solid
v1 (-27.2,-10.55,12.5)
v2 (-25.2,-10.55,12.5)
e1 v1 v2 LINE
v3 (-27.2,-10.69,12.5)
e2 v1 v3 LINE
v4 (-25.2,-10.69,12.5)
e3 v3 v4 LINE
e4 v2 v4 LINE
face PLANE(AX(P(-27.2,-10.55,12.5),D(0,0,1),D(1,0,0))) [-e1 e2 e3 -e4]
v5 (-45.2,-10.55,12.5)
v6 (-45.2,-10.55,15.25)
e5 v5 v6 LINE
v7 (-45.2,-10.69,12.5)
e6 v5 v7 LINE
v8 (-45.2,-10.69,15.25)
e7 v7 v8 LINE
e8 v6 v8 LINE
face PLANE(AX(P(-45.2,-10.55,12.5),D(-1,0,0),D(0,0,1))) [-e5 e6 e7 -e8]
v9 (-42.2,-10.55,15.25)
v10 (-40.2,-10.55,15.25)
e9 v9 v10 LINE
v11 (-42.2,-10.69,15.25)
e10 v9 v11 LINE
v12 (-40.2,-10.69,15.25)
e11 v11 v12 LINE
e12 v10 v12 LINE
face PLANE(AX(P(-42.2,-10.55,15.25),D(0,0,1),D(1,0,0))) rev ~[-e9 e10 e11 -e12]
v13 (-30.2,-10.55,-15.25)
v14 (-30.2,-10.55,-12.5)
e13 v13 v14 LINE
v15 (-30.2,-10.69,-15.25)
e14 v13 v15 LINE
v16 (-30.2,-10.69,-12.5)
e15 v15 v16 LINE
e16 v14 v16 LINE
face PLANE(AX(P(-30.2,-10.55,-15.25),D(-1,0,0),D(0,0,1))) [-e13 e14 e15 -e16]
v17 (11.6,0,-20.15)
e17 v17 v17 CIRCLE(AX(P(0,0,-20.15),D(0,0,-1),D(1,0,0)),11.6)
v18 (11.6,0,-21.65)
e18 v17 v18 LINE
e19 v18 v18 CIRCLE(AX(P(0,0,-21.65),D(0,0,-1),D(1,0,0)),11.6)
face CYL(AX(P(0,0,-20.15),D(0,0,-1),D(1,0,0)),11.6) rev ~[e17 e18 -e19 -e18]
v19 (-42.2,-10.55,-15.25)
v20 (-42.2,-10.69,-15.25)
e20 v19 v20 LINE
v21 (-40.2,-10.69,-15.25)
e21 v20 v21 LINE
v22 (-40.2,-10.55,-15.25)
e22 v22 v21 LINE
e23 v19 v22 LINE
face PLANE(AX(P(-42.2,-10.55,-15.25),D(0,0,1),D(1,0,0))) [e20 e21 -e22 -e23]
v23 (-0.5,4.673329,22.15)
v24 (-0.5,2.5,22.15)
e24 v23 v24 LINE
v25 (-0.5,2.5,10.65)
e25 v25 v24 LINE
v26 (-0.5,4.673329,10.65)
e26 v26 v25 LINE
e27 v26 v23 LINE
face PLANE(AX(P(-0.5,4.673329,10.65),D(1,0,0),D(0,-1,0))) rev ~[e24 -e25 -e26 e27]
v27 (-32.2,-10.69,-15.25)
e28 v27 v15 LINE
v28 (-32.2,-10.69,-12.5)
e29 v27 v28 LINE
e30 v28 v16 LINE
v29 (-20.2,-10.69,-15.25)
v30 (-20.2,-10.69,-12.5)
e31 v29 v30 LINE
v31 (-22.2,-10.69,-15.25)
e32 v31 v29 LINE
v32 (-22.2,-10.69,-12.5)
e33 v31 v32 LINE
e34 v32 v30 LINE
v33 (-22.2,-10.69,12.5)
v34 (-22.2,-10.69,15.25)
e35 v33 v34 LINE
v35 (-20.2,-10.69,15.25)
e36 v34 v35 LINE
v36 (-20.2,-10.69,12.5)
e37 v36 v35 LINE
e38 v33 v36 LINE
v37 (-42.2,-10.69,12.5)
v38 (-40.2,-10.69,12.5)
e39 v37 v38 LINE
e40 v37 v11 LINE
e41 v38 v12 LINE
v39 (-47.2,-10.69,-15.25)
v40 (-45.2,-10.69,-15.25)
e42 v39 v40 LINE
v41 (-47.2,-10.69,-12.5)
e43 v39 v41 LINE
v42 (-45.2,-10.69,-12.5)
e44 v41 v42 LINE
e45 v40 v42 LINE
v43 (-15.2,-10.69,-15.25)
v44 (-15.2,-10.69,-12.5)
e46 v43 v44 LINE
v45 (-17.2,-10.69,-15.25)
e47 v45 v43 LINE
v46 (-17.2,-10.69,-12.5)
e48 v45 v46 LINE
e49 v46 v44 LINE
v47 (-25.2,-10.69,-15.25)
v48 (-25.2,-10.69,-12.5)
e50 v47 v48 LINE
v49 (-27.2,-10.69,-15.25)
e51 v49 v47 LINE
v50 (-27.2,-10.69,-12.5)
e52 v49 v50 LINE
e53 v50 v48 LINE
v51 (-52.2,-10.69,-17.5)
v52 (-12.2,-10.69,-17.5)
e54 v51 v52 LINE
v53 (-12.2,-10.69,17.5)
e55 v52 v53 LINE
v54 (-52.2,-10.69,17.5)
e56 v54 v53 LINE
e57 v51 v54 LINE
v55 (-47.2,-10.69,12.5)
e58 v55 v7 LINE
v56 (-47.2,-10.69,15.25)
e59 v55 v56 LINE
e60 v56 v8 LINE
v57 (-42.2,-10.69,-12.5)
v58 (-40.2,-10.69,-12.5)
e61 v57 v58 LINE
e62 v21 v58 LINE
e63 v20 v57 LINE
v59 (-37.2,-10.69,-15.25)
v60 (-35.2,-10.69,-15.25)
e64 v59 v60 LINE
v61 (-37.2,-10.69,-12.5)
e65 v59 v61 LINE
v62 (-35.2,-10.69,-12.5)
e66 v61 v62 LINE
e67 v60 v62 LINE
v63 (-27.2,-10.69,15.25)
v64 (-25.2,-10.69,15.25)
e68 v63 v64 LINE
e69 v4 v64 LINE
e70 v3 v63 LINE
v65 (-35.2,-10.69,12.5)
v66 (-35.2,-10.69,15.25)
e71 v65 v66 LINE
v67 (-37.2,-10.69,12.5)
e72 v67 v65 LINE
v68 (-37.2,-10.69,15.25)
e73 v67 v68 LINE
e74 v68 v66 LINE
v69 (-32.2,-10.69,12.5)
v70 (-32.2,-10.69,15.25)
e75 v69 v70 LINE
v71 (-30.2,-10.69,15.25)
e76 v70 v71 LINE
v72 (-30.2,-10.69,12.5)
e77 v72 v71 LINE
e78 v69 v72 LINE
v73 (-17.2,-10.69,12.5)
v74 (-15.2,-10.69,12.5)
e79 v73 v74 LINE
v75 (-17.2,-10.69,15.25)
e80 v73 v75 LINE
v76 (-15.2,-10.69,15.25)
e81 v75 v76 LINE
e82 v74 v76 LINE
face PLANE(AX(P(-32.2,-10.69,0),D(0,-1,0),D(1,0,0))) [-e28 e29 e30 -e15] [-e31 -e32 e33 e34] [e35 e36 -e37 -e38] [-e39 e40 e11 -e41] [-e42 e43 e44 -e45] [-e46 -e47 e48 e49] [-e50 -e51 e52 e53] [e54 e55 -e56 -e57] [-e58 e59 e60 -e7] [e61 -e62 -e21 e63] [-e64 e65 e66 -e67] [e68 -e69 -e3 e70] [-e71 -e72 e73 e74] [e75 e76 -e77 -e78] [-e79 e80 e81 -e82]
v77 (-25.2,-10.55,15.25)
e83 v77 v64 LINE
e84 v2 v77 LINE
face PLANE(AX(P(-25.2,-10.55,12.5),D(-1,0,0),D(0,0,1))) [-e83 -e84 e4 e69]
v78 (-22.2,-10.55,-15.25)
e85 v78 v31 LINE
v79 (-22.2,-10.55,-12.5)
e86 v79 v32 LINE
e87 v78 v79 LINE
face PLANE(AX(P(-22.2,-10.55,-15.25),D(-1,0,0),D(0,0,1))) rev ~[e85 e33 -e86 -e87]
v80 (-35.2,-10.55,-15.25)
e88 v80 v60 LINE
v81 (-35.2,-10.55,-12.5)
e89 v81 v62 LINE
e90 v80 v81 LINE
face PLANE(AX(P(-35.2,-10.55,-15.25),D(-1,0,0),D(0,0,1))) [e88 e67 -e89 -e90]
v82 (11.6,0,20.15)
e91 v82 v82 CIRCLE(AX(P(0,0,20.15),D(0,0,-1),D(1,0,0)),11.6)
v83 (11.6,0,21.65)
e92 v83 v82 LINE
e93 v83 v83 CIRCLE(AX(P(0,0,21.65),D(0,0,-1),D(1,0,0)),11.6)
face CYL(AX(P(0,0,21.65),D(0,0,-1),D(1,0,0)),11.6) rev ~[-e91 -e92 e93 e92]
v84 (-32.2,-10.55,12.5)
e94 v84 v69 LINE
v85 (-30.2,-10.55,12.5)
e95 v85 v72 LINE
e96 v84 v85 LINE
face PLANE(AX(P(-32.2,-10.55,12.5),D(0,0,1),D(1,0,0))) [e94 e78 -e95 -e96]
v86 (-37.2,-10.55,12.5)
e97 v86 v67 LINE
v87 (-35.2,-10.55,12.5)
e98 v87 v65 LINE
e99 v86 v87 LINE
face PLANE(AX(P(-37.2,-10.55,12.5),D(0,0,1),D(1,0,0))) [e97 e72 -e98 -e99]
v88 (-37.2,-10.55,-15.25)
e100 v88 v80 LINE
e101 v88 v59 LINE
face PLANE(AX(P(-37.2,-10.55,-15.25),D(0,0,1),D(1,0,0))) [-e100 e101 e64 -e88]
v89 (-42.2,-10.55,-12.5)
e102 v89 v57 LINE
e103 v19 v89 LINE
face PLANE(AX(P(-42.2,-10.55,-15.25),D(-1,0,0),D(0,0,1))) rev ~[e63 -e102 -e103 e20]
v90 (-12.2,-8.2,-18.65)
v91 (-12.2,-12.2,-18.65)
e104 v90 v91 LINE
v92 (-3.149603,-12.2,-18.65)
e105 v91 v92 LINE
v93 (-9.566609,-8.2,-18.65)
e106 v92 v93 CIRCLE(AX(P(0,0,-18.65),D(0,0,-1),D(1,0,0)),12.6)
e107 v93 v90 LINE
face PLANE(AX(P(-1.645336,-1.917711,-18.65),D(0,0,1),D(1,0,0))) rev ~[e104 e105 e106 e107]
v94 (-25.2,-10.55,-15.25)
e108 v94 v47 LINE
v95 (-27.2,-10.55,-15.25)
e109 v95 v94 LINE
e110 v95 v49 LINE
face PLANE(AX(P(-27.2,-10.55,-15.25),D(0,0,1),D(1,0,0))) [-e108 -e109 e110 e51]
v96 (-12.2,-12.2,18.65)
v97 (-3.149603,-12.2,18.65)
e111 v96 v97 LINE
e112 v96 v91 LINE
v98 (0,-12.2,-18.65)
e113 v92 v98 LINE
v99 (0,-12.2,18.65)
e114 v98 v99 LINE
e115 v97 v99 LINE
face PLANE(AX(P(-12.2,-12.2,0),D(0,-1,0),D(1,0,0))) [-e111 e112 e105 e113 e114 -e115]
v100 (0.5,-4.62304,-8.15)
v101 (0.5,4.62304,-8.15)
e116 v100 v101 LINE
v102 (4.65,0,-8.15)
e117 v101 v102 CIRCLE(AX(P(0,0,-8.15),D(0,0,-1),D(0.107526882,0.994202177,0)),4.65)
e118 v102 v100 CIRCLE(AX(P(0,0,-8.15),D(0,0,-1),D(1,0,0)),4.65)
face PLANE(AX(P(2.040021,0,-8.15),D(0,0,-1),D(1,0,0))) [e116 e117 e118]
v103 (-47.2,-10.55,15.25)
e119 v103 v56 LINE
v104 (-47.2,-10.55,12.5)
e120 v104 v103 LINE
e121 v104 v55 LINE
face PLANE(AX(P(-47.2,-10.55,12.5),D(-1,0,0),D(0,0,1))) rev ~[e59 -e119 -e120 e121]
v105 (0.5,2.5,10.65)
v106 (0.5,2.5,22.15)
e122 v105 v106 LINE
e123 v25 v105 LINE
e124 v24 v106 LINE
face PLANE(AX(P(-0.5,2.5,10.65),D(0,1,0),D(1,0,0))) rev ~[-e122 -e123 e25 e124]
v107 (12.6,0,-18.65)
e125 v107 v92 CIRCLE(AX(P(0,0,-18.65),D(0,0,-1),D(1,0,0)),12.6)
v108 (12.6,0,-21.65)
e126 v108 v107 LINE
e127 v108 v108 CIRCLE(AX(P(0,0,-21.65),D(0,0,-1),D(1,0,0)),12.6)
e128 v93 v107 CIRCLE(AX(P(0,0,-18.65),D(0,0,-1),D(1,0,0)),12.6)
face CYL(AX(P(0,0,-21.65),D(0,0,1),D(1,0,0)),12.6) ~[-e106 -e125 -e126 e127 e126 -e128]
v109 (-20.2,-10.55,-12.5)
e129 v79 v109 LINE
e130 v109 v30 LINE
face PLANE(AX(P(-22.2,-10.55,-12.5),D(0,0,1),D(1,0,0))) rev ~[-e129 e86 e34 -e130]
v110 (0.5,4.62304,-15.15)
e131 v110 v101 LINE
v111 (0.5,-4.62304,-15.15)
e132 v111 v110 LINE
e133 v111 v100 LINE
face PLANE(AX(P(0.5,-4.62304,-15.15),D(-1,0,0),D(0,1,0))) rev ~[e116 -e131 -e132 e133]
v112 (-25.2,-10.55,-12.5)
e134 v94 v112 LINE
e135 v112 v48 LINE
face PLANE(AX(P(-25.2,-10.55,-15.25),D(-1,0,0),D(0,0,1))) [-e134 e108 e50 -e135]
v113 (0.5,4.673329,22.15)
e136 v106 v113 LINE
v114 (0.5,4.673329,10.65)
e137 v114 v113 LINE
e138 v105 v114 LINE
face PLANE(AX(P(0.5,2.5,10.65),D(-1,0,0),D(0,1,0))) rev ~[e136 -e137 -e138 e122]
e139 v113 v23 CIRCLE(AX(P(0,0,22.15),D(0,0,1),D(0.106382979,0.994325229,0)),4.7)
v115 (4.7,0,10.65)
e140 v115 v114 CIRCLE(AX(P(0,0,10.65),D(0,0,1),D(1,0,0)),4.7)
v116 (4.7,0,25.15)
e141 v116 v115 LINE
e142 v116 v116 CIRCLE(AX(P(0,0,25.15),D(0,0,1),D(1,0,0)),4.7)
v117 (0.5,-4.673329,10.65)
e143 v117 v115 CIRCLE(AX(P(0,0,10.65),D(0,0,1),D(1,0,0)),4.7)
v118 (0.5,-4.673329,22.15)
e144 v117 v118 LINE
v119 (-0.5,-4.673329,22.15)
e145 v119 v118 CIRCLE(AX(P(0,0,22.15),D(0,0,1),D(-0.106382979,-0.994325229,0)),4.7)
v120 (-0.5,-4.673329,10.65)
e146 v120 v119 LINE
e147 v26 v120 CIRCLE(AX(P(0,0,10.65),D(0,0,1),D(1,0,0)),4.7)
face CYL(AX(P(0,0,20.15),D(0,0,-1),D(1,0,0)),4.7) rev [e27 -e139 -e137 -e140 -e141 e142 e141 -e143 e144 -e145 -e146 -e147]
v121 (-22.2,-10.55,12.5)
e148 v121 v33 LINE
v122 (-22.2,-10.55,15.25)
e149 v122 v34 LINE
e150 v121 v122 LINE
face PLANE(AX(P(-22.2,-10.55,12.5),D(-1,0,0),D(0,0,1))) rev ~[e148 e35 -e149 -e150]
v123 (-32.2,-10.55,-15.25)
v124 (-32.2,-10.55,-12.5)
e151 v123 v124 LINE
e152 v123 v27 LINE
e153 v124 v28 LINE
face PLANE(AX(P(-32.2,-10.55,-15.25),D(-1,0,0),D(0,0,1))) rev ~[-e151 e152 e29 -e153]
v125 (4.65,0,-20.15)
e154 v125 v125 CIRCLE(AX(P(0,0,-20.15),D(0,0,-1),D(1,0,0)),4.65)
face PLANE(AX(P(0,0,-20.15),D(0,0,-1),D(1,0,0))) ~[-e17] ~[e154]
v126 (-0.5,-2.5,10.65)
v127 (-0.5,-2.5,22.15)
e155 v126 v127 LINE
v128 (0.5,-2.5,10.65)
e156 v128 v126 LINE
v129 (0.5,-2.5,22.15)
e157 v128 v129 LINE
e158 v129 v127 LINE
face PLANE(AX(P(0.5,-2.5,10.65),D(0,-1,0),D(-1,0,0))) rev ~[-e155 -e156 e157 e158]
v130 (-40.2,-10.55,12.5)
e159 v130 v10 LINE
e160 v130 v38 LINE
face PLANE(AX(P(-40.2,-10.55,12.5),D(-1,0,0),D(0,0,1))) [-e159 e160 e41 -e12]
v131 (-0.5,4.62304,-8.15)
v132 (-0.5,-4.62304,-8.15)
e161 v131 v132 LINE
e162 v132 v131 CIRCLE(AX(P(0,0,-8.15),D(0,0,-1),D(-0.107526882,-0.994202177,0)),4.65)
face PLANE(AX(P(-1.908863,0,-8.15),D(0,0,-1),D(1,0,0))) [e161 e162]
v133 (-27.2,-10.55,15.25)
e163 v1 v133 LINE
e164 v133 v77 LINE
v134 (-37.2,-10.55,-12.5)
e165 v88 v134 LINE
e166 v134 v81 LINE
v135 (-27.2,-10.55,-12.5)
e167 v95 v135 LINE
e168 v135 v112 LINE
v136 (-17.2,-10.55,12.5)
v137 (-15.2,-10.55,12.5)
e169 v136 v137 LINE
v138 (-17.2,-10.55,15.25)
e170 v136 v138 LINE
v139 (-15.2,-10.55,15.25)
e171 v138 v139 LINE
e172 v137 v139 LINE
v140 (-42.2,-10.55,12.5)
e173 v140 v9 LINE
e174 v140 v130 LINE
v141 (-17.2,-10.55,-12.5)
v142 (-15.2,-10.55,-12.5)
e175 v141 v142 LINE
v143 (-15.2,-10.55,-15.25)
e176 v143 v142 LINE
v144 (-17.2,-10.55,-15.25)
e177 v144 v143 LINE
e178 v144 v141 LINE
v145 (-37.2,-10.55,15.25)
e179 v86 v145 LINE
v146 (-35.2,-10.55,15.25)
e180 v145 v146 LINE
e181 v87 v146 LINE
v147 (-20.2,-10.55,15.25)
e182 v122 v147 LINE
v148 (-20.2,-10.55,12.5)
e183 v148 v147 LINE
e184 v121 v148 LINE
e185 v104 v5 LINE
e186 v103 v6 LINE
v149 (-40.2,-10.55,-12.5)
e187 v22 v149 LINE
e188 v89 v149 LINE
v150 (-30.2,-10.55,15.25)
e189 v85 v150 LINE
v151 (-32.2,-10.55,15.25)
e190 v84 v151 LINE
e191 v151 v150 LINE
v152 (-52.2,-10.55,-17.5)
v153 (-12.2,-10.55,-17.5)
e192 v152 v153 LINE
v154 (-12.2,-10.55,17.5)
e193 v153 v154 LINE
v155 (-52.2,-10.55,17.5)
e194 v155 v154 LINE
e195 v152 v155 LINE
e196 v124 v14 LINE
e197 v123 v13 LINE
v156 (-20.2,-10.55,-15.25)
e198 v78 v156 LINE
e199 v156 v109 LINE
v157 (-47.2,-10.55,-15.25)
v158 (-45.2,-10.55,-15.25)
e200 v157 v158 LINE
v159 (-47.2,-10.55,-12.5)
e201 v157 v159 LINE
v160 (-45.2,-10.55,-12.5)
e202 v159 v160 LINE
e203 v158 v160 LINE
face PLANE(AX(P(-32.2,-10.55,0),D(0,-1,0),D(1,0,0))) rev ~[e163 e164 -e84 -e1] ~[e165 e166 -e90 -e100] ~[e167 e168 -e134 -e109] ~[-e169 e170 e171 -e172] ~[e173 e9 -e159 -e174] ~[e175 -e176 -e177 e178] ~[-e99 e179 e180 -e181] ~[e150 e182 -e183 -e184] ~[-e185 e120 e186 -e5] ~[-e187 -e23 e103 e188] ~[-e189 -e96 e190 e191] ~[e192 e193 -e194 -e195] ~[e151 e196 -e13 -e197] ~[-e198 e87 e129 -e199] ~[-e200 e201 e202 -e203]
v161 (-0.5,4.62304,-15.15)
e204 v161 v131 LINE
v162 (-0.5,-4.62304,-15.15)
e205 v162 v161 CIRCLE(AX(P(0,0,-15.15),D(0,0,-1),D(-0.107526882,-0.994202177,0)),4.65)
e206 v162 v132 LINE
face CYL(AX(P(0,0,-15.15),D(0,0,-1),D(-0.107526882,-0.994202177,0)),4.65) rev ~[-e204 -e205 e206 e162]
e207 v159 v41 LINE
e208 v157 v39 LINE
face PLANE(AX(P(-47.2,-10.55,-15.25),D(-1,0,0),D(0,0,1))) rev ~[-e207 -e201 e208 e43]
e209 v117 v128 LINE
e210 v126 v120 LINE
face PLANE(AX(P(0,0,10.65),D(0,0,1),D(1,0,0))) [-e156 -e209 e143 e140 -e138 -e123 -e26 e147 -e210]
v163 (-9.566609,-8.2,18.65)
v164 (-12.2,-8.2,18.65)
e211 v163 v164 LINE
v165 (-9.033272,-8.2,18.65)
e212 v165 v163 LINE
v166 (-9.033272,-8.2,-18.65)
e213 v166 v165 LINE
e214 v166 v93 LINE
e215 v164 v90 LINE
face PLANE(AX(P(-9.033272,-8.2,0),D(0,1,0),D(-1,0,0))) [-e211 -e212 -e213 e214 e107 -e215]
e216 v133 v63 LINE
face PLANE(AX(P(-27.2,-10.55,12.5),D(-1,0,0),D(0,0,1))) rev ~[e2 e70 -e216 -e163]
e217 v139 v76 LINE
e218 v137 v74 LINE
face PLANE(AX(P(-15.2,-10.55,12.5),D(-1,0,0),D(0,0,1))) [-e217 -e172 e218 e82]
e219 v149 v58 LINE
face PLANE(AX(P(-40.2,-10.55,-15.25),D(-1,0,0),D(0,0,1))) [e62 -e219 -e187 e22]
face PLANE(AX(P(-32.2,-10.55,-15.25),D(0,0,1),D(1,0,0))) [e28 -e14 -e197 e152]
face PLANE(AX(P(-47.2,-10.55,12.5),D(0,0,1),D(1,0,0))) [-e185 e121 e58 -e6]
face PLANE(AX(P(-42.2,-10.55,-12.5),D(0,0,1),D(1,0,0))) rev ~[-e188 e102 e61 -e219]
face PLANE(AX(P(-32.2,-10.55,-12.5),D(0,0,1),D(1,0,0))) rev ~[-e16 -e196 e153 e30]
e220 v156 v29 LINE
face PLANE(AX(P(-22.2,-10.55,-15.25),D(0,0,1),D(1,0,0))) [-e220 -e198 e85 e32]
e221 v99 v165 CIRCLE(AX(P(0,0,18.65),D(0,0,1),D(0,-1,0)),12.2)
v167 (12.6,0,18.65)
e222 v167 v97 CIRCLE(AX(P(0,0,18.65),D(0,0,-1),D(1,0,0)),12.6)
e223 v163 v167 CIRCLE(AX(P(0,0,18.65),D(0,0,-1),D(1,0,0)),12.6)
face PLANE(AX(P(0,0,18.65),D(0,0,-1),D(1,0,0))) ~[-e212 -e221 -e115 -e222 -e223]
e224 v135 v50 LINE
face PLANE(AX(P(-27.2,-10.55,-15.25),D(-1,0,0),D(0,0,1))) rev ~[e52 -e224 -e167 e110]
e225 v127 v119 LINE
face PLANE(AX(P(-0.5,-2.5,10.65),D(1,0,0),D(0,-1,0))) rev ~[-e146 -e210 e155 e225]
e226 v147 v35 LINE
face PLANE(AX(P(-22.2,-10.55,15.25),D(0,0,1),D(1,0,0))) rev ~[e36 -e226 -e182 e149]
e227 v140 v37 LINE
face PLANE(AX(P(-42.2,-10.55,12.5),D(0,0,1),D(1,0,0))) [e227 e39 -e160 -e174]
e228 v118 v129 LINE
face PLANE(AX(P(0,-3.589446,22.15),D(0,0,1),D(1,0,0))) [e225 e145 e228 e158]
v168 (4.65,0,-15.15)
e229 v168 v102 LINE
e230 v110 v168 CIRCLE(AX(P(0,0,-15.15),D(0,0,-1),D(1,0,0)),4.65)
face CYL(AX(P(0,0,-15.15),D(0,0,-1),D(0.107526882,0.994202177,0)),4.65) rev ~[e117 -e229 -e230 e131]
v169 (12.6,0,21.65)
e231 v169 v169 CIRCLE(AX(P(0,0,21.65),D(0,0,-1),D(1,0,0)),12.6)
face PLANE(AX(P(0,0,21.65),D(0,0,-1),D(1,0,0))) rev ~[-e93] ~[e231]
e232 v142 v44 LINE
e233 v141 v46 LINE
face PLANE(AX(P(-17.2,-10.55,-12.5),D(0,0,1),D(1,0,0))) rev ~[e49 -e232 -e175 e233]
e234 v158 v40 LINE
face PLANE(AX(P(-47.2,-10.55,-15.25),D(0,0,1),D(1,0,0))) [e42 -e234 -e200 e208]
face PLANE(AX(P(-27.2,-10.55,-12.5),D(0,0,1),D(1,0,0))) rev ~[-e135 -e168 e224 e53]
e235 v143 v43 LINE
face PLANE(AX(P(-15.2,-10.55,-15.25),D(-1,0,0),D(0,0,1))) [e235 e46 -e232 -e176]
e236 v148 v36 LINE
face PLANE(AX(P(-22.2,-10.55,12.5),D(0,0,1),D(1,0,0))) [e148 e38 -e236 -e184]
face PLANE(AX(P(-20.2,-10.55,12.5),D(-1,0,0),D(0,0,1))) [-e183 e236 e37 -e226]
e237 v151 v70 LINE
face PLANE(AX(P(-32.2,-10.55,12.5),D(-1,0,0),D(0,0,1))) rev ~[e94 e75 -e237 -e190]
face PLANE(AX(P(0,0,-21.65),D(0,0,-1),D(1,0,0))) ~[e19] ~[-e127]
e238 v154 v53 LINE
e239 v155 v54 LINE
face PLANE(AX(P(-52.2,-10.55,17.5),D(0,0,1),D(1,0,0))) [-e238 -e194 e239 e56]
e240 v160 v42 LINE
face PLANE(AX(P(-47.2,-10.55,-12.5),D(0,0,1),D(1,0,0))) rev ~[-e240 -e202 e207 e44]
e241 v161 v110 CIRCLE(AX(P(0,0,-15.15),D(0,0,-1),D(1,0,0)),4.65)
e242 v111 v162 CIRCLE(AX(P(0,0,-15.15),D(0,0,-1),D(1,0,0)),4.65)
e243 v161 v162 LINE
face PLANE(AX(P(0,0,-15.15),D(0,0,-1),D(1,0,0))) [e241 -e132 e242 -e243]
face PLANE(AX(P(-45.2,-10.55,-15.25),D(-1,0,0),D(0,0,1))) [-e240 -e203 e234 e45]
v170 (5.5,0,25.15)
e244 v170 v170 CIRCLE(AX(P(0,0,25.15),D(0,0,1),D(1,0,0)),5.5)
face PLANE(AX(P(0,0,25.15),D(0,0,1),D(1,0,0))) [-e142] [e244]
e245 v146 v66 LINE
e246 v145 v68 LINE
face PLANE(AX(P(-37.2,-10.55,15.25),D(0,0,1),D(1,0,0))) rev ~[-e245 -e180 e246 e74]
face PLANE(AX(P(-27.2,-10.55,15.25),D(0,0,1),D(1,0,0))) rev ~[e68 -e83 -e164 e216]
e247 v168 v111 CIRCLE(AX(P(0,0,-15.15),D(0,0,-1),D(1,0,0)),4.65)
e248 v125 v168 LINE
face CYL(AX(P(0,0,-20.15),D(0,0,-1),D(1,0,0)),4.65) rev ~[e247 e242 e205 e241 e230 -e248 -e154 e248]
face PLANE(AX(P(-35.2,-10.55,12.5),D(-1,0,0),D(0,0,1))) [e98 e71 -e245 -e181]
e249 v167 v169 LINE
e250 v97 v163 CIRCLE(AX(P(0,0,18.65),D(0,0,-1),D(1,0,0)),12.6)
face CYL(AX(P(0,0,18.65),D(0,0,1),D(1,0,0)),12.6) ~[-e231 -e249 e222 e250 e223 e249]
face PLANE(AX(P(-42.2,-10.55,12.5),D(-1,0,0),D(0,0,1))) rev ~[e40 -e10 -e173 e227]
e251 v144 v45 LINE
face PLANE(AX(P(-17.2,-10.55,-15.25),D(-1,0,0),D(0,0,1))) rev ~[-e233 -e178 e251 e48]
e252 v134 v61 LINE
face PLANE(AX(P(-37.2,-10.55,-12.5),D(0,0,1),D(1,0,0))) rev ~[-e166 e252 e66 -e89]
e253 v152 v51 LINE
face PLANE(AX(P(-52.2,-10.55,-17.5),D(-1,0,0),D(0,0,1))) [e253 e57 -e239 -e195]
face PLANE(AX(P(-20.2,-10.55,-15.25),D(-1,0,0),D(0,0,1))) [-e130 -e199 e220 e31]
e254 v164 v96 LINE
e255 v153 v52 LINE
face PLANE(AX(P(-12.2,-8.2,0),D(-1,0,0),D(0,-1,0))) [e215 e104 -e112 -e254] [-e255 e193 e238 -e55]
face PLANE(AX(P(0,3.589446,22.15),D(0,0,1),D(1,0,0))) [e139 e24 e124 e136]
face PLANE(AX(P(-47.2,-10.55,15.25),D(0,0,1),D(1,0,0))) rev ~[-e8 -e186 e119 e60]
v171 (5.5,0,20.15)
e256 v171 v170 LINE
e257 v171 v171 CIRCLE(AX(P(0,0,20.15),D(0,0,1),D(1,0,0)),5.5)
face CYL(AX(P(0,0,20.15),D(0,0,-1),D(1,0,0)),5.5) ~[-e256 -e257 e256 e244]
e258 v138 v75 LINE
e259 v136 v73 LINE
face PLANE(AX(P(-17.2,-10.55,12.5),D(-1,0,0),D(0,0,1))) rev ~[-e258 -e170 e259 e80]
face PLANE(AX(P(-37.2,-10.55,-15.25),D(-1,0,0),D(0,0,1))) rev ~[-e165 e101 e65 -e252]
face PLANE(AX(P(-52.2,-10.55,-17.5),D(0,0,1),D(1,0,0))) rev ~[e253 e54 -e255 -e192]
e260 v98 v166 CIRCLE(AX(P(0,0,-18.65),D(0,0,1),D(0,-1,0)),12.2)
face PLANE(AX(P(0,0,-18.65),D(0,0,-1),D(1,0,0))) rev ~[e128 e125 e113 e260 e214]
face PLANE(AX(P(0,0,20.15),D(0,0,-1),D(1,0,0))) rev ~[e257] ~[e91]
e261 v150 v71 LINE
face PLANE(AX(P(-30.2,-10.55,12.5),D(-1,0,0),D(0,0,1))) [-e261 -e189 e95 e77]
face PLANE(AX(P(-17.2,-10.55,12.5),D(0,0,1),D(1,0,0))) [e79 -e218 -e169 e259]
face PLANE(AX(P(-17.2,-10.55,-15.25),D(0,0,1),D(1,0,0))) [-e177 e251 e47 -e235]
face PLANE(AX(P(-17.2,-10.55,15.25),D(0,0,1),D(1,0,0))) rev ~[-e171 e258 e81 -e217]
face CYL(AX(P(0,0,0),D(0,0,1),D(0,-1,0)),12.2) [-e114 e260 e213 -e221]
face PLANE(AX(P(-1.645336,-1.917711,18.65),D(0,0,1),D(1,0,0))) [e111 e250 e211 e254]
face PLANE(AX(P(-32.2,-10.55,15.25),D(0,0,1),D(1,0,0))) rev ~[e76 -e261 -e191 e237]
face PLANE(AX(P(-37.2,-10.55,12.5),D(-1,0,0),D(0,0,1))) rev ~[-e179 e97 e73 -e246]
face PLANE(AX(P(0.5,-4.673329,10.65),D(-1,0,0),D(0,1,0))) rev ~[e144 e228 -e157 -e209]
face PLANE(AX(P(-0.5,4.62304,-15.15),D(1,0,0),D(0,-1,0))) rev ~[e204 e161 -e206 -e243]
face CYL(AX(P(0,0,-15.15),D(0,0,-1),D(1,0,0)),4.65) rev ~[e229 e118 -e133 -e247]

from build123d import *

# Parameters (mm, degrees)
F1_DEPTH  = 18.65
F4_R      = 4.65
F5_DEPTH  = 5
F7_DEPTH  = 7
F10_R     = 5.5
F10_R_2   = 4.7
F11_DEPTH = 5
F12_R     = 4.7
F13_DEPTH = 9.5
F15_DEPTH = 11.5
F17_W     = 40
F17_H     = 35
F17_W_2   = 2
F17_H_2   = 2.75
F18_DEPTH = 0.14


with BuildPart() as f1:
    # F0 (on Top) → F1 (new body, symmetric)
    with BuildSketch(Plane.XY):
        with BuildLine():
            Line((-12.2, -12.2), (0, -12.2))
            ThreePointArc((0, -12.2), (4.9396356141, 11.1552678139), (-9.0332718325, -8.2))
            Line((-9.0332718325, -8.2), (-12.2, -8.2))
            Line((-12.2, -8.2), (-12.2, -12.2))
        make_face()
    extrude(amount=F1_DEPTH, both=True)

    # F2 (on Front) → F3 (revolve)
    with BuildSketch(Plane.XZ):
        Polygon((12.6, -18.65), (0, -18.65), (0, -20.15), (11.6, -20.15), (11.6, -21.65), (12.6, -21.65), align=None)
    revolve(axis=Axis((0, 0, -19.4), (0, 0, -1)))

    # F4 (on face) → F5 (cut)
    with BuildSketch(Plane(origin=(0, 0, -20.15), x_dir=(1, 0, 0), z_dir=(0, 0, -1))):
        Circle(F4_R)
    extrude(amount=-F5_DEPTH, mode=Mode.SUBTRACT)

    # F6 (on face) → F7 (cut)
    with BuildSketch(Plane(origin=(0, 0, -15.15), x_dir=(1, 0, 0), z_dir=(0, 0, -1))):
        with BuildLine():
            Line((-0.5, -4.6230401253), (-0.5, 4.6230401253))
            ThreePointArc((-0.5, 4.6230401253), (-4.65, 0), (-0.5, -4.6230401253))
        make_face()
        with BuildLine():
            ThreePointArc((4.65, 0), (3.4603106797, 3.1062437123), (0.5, 4.6230401253))
            Line((0.5, 4.6230401253), (0.5, -4.6230401253))
            ThreePointArc((0.5, -4.6230401253), (3.4603106797, -3.1062437123), (4.65, 0))
        make_face()
    extrude(amount=-F7_DEPTH, mode=Mode.SUBTRACT)

    # F8 (on Front) → F9 (revolve)
    with BuildSketch(Plane.XZ):
        Polygon((0, 20.15), (0, 18.65), (12.6, 18.65), (12.6, 21.65), (11.6, 21.65), (11.6, 20.15), align=None)
    revolve(axis=Axis((0, 0, 19.4), (0, 0, -1)))

    # F10 (on face) → F11 (join)
    with BuildSketch(Plane.XY.offset(20.15)):
        Circle(F10_R)
        Circle(F10_R_2, mode=Mode.SUBTRACT)
    extrude(amount=F11_DEPTH)

    # F12 (on face) → F13 (cut)
    with BuildSketch(Plane.XY.offset(20.15)):
        Circle(F12_R)
    extrude(amount=-F13_DEPTH, mode=Mode.SUBTRACT)

    # F14 (on face) → F15 (join)
    with BuildSketch(Plane.XY.offset(10.65)):
        with BuildLine():
            ThreePointArc((0.5, 4.6733285782), (0, 4.7), (-0.5, 4.6733285782))
            Line((-0.5, 4.6733285782), (-0.5, 2.5))
            Line((-0.5, 2.5), (0.5, 2.5))
            Line((0.5, 2.5), (0.5, 4.6733285782))
        make_face()
        with BuildLine():
            ThreePointArc((-0.5, -4.6733285782), (0, -4.7), (0.5, -4.6733285782))
            Line((0.5, -4.6733285782), (0.5, -2.5))
            Line((0.5, -2.5), (-0.5, -2.5))
            Line((-0.5, -2.5), (-0.5, -4.6733285782))
        make_face()
    extrude(amount=F15_DEPTH)

    # F17 (on offset) → F18 (join)
    with BuildSketch(Plane.XZ.offset(10.55)):
        with Locations((-32.2, 0)):
            Rectangle(F17_W, F17_H)
        with Locations((-46.2, -13.875)):
            Rectangle(F17_W_2, F17_H_2, mode=Mode.SUBTRACT)
        with Locations((-41.2, -13.875)):
            Rectangle(F17_W_2, F17_H_2, mode=Mode.SUBTRACT)
        with Locations((-36.2, -13.875)):
            Rectangle(F17_W_2, F17_H_2, mode=Mode.SUBTRACT)
        with Locations((-31.2, -13.875)):
            Rectangle(F17_W_2, F17_H_2, mode=Mode.SUBTRACT)
        with Locations((-26.2, -13.875)):
            Rectangle(F17_W_2, F17_H_2, mode=Mode.SUBTRACT)
        with Locations((-21.2, -13.875)):
            Rectangle(F17_W_2, F17_H_2, mode=Mode.SUBTRACT)
        with Locations((-16.2, -13.875)):
            Rectangle(F17_W_2, F17_H_2, mode=Mode.SUBTRACT)
        with Locations((-46.2, 13.875)):
            Rectangle(F17_W_2, F17_H_2, mode=Mode.SUBTRACT)
        with Locations((-41.2, 13.875)):
            Rectangle(F17_W_2, F17_H_2, mode=Mode.SUBTRACT)
        with Locations((-36.2, 13.875)):
            Rectangle(F17_W_2, F17_H_2, mode=Mode.SUBTRACT)
        with Locations((-31.2, 13.875)):
            Rectangle(F17_W_2, F17_H_2, mode=Mode.SUBTRACT)
        with Locations((-26.2, 13.875)):
            Rectangle(F17_W_2, F17_H_2, mode=Mode.SUBTRACT)
        with Locations((-21.2, 13.875)):
            Rectangle(F17_W_2, F17_H_2, mode=Mode.SUBTRACT)
        with Locations((-16.2, 13.875)):
            Rectangle(F17_W_2, F17_H_2, mode=Mode.SUBTRACT)
    extrude(amount=F18_DEPTH)


solid = f1.part
